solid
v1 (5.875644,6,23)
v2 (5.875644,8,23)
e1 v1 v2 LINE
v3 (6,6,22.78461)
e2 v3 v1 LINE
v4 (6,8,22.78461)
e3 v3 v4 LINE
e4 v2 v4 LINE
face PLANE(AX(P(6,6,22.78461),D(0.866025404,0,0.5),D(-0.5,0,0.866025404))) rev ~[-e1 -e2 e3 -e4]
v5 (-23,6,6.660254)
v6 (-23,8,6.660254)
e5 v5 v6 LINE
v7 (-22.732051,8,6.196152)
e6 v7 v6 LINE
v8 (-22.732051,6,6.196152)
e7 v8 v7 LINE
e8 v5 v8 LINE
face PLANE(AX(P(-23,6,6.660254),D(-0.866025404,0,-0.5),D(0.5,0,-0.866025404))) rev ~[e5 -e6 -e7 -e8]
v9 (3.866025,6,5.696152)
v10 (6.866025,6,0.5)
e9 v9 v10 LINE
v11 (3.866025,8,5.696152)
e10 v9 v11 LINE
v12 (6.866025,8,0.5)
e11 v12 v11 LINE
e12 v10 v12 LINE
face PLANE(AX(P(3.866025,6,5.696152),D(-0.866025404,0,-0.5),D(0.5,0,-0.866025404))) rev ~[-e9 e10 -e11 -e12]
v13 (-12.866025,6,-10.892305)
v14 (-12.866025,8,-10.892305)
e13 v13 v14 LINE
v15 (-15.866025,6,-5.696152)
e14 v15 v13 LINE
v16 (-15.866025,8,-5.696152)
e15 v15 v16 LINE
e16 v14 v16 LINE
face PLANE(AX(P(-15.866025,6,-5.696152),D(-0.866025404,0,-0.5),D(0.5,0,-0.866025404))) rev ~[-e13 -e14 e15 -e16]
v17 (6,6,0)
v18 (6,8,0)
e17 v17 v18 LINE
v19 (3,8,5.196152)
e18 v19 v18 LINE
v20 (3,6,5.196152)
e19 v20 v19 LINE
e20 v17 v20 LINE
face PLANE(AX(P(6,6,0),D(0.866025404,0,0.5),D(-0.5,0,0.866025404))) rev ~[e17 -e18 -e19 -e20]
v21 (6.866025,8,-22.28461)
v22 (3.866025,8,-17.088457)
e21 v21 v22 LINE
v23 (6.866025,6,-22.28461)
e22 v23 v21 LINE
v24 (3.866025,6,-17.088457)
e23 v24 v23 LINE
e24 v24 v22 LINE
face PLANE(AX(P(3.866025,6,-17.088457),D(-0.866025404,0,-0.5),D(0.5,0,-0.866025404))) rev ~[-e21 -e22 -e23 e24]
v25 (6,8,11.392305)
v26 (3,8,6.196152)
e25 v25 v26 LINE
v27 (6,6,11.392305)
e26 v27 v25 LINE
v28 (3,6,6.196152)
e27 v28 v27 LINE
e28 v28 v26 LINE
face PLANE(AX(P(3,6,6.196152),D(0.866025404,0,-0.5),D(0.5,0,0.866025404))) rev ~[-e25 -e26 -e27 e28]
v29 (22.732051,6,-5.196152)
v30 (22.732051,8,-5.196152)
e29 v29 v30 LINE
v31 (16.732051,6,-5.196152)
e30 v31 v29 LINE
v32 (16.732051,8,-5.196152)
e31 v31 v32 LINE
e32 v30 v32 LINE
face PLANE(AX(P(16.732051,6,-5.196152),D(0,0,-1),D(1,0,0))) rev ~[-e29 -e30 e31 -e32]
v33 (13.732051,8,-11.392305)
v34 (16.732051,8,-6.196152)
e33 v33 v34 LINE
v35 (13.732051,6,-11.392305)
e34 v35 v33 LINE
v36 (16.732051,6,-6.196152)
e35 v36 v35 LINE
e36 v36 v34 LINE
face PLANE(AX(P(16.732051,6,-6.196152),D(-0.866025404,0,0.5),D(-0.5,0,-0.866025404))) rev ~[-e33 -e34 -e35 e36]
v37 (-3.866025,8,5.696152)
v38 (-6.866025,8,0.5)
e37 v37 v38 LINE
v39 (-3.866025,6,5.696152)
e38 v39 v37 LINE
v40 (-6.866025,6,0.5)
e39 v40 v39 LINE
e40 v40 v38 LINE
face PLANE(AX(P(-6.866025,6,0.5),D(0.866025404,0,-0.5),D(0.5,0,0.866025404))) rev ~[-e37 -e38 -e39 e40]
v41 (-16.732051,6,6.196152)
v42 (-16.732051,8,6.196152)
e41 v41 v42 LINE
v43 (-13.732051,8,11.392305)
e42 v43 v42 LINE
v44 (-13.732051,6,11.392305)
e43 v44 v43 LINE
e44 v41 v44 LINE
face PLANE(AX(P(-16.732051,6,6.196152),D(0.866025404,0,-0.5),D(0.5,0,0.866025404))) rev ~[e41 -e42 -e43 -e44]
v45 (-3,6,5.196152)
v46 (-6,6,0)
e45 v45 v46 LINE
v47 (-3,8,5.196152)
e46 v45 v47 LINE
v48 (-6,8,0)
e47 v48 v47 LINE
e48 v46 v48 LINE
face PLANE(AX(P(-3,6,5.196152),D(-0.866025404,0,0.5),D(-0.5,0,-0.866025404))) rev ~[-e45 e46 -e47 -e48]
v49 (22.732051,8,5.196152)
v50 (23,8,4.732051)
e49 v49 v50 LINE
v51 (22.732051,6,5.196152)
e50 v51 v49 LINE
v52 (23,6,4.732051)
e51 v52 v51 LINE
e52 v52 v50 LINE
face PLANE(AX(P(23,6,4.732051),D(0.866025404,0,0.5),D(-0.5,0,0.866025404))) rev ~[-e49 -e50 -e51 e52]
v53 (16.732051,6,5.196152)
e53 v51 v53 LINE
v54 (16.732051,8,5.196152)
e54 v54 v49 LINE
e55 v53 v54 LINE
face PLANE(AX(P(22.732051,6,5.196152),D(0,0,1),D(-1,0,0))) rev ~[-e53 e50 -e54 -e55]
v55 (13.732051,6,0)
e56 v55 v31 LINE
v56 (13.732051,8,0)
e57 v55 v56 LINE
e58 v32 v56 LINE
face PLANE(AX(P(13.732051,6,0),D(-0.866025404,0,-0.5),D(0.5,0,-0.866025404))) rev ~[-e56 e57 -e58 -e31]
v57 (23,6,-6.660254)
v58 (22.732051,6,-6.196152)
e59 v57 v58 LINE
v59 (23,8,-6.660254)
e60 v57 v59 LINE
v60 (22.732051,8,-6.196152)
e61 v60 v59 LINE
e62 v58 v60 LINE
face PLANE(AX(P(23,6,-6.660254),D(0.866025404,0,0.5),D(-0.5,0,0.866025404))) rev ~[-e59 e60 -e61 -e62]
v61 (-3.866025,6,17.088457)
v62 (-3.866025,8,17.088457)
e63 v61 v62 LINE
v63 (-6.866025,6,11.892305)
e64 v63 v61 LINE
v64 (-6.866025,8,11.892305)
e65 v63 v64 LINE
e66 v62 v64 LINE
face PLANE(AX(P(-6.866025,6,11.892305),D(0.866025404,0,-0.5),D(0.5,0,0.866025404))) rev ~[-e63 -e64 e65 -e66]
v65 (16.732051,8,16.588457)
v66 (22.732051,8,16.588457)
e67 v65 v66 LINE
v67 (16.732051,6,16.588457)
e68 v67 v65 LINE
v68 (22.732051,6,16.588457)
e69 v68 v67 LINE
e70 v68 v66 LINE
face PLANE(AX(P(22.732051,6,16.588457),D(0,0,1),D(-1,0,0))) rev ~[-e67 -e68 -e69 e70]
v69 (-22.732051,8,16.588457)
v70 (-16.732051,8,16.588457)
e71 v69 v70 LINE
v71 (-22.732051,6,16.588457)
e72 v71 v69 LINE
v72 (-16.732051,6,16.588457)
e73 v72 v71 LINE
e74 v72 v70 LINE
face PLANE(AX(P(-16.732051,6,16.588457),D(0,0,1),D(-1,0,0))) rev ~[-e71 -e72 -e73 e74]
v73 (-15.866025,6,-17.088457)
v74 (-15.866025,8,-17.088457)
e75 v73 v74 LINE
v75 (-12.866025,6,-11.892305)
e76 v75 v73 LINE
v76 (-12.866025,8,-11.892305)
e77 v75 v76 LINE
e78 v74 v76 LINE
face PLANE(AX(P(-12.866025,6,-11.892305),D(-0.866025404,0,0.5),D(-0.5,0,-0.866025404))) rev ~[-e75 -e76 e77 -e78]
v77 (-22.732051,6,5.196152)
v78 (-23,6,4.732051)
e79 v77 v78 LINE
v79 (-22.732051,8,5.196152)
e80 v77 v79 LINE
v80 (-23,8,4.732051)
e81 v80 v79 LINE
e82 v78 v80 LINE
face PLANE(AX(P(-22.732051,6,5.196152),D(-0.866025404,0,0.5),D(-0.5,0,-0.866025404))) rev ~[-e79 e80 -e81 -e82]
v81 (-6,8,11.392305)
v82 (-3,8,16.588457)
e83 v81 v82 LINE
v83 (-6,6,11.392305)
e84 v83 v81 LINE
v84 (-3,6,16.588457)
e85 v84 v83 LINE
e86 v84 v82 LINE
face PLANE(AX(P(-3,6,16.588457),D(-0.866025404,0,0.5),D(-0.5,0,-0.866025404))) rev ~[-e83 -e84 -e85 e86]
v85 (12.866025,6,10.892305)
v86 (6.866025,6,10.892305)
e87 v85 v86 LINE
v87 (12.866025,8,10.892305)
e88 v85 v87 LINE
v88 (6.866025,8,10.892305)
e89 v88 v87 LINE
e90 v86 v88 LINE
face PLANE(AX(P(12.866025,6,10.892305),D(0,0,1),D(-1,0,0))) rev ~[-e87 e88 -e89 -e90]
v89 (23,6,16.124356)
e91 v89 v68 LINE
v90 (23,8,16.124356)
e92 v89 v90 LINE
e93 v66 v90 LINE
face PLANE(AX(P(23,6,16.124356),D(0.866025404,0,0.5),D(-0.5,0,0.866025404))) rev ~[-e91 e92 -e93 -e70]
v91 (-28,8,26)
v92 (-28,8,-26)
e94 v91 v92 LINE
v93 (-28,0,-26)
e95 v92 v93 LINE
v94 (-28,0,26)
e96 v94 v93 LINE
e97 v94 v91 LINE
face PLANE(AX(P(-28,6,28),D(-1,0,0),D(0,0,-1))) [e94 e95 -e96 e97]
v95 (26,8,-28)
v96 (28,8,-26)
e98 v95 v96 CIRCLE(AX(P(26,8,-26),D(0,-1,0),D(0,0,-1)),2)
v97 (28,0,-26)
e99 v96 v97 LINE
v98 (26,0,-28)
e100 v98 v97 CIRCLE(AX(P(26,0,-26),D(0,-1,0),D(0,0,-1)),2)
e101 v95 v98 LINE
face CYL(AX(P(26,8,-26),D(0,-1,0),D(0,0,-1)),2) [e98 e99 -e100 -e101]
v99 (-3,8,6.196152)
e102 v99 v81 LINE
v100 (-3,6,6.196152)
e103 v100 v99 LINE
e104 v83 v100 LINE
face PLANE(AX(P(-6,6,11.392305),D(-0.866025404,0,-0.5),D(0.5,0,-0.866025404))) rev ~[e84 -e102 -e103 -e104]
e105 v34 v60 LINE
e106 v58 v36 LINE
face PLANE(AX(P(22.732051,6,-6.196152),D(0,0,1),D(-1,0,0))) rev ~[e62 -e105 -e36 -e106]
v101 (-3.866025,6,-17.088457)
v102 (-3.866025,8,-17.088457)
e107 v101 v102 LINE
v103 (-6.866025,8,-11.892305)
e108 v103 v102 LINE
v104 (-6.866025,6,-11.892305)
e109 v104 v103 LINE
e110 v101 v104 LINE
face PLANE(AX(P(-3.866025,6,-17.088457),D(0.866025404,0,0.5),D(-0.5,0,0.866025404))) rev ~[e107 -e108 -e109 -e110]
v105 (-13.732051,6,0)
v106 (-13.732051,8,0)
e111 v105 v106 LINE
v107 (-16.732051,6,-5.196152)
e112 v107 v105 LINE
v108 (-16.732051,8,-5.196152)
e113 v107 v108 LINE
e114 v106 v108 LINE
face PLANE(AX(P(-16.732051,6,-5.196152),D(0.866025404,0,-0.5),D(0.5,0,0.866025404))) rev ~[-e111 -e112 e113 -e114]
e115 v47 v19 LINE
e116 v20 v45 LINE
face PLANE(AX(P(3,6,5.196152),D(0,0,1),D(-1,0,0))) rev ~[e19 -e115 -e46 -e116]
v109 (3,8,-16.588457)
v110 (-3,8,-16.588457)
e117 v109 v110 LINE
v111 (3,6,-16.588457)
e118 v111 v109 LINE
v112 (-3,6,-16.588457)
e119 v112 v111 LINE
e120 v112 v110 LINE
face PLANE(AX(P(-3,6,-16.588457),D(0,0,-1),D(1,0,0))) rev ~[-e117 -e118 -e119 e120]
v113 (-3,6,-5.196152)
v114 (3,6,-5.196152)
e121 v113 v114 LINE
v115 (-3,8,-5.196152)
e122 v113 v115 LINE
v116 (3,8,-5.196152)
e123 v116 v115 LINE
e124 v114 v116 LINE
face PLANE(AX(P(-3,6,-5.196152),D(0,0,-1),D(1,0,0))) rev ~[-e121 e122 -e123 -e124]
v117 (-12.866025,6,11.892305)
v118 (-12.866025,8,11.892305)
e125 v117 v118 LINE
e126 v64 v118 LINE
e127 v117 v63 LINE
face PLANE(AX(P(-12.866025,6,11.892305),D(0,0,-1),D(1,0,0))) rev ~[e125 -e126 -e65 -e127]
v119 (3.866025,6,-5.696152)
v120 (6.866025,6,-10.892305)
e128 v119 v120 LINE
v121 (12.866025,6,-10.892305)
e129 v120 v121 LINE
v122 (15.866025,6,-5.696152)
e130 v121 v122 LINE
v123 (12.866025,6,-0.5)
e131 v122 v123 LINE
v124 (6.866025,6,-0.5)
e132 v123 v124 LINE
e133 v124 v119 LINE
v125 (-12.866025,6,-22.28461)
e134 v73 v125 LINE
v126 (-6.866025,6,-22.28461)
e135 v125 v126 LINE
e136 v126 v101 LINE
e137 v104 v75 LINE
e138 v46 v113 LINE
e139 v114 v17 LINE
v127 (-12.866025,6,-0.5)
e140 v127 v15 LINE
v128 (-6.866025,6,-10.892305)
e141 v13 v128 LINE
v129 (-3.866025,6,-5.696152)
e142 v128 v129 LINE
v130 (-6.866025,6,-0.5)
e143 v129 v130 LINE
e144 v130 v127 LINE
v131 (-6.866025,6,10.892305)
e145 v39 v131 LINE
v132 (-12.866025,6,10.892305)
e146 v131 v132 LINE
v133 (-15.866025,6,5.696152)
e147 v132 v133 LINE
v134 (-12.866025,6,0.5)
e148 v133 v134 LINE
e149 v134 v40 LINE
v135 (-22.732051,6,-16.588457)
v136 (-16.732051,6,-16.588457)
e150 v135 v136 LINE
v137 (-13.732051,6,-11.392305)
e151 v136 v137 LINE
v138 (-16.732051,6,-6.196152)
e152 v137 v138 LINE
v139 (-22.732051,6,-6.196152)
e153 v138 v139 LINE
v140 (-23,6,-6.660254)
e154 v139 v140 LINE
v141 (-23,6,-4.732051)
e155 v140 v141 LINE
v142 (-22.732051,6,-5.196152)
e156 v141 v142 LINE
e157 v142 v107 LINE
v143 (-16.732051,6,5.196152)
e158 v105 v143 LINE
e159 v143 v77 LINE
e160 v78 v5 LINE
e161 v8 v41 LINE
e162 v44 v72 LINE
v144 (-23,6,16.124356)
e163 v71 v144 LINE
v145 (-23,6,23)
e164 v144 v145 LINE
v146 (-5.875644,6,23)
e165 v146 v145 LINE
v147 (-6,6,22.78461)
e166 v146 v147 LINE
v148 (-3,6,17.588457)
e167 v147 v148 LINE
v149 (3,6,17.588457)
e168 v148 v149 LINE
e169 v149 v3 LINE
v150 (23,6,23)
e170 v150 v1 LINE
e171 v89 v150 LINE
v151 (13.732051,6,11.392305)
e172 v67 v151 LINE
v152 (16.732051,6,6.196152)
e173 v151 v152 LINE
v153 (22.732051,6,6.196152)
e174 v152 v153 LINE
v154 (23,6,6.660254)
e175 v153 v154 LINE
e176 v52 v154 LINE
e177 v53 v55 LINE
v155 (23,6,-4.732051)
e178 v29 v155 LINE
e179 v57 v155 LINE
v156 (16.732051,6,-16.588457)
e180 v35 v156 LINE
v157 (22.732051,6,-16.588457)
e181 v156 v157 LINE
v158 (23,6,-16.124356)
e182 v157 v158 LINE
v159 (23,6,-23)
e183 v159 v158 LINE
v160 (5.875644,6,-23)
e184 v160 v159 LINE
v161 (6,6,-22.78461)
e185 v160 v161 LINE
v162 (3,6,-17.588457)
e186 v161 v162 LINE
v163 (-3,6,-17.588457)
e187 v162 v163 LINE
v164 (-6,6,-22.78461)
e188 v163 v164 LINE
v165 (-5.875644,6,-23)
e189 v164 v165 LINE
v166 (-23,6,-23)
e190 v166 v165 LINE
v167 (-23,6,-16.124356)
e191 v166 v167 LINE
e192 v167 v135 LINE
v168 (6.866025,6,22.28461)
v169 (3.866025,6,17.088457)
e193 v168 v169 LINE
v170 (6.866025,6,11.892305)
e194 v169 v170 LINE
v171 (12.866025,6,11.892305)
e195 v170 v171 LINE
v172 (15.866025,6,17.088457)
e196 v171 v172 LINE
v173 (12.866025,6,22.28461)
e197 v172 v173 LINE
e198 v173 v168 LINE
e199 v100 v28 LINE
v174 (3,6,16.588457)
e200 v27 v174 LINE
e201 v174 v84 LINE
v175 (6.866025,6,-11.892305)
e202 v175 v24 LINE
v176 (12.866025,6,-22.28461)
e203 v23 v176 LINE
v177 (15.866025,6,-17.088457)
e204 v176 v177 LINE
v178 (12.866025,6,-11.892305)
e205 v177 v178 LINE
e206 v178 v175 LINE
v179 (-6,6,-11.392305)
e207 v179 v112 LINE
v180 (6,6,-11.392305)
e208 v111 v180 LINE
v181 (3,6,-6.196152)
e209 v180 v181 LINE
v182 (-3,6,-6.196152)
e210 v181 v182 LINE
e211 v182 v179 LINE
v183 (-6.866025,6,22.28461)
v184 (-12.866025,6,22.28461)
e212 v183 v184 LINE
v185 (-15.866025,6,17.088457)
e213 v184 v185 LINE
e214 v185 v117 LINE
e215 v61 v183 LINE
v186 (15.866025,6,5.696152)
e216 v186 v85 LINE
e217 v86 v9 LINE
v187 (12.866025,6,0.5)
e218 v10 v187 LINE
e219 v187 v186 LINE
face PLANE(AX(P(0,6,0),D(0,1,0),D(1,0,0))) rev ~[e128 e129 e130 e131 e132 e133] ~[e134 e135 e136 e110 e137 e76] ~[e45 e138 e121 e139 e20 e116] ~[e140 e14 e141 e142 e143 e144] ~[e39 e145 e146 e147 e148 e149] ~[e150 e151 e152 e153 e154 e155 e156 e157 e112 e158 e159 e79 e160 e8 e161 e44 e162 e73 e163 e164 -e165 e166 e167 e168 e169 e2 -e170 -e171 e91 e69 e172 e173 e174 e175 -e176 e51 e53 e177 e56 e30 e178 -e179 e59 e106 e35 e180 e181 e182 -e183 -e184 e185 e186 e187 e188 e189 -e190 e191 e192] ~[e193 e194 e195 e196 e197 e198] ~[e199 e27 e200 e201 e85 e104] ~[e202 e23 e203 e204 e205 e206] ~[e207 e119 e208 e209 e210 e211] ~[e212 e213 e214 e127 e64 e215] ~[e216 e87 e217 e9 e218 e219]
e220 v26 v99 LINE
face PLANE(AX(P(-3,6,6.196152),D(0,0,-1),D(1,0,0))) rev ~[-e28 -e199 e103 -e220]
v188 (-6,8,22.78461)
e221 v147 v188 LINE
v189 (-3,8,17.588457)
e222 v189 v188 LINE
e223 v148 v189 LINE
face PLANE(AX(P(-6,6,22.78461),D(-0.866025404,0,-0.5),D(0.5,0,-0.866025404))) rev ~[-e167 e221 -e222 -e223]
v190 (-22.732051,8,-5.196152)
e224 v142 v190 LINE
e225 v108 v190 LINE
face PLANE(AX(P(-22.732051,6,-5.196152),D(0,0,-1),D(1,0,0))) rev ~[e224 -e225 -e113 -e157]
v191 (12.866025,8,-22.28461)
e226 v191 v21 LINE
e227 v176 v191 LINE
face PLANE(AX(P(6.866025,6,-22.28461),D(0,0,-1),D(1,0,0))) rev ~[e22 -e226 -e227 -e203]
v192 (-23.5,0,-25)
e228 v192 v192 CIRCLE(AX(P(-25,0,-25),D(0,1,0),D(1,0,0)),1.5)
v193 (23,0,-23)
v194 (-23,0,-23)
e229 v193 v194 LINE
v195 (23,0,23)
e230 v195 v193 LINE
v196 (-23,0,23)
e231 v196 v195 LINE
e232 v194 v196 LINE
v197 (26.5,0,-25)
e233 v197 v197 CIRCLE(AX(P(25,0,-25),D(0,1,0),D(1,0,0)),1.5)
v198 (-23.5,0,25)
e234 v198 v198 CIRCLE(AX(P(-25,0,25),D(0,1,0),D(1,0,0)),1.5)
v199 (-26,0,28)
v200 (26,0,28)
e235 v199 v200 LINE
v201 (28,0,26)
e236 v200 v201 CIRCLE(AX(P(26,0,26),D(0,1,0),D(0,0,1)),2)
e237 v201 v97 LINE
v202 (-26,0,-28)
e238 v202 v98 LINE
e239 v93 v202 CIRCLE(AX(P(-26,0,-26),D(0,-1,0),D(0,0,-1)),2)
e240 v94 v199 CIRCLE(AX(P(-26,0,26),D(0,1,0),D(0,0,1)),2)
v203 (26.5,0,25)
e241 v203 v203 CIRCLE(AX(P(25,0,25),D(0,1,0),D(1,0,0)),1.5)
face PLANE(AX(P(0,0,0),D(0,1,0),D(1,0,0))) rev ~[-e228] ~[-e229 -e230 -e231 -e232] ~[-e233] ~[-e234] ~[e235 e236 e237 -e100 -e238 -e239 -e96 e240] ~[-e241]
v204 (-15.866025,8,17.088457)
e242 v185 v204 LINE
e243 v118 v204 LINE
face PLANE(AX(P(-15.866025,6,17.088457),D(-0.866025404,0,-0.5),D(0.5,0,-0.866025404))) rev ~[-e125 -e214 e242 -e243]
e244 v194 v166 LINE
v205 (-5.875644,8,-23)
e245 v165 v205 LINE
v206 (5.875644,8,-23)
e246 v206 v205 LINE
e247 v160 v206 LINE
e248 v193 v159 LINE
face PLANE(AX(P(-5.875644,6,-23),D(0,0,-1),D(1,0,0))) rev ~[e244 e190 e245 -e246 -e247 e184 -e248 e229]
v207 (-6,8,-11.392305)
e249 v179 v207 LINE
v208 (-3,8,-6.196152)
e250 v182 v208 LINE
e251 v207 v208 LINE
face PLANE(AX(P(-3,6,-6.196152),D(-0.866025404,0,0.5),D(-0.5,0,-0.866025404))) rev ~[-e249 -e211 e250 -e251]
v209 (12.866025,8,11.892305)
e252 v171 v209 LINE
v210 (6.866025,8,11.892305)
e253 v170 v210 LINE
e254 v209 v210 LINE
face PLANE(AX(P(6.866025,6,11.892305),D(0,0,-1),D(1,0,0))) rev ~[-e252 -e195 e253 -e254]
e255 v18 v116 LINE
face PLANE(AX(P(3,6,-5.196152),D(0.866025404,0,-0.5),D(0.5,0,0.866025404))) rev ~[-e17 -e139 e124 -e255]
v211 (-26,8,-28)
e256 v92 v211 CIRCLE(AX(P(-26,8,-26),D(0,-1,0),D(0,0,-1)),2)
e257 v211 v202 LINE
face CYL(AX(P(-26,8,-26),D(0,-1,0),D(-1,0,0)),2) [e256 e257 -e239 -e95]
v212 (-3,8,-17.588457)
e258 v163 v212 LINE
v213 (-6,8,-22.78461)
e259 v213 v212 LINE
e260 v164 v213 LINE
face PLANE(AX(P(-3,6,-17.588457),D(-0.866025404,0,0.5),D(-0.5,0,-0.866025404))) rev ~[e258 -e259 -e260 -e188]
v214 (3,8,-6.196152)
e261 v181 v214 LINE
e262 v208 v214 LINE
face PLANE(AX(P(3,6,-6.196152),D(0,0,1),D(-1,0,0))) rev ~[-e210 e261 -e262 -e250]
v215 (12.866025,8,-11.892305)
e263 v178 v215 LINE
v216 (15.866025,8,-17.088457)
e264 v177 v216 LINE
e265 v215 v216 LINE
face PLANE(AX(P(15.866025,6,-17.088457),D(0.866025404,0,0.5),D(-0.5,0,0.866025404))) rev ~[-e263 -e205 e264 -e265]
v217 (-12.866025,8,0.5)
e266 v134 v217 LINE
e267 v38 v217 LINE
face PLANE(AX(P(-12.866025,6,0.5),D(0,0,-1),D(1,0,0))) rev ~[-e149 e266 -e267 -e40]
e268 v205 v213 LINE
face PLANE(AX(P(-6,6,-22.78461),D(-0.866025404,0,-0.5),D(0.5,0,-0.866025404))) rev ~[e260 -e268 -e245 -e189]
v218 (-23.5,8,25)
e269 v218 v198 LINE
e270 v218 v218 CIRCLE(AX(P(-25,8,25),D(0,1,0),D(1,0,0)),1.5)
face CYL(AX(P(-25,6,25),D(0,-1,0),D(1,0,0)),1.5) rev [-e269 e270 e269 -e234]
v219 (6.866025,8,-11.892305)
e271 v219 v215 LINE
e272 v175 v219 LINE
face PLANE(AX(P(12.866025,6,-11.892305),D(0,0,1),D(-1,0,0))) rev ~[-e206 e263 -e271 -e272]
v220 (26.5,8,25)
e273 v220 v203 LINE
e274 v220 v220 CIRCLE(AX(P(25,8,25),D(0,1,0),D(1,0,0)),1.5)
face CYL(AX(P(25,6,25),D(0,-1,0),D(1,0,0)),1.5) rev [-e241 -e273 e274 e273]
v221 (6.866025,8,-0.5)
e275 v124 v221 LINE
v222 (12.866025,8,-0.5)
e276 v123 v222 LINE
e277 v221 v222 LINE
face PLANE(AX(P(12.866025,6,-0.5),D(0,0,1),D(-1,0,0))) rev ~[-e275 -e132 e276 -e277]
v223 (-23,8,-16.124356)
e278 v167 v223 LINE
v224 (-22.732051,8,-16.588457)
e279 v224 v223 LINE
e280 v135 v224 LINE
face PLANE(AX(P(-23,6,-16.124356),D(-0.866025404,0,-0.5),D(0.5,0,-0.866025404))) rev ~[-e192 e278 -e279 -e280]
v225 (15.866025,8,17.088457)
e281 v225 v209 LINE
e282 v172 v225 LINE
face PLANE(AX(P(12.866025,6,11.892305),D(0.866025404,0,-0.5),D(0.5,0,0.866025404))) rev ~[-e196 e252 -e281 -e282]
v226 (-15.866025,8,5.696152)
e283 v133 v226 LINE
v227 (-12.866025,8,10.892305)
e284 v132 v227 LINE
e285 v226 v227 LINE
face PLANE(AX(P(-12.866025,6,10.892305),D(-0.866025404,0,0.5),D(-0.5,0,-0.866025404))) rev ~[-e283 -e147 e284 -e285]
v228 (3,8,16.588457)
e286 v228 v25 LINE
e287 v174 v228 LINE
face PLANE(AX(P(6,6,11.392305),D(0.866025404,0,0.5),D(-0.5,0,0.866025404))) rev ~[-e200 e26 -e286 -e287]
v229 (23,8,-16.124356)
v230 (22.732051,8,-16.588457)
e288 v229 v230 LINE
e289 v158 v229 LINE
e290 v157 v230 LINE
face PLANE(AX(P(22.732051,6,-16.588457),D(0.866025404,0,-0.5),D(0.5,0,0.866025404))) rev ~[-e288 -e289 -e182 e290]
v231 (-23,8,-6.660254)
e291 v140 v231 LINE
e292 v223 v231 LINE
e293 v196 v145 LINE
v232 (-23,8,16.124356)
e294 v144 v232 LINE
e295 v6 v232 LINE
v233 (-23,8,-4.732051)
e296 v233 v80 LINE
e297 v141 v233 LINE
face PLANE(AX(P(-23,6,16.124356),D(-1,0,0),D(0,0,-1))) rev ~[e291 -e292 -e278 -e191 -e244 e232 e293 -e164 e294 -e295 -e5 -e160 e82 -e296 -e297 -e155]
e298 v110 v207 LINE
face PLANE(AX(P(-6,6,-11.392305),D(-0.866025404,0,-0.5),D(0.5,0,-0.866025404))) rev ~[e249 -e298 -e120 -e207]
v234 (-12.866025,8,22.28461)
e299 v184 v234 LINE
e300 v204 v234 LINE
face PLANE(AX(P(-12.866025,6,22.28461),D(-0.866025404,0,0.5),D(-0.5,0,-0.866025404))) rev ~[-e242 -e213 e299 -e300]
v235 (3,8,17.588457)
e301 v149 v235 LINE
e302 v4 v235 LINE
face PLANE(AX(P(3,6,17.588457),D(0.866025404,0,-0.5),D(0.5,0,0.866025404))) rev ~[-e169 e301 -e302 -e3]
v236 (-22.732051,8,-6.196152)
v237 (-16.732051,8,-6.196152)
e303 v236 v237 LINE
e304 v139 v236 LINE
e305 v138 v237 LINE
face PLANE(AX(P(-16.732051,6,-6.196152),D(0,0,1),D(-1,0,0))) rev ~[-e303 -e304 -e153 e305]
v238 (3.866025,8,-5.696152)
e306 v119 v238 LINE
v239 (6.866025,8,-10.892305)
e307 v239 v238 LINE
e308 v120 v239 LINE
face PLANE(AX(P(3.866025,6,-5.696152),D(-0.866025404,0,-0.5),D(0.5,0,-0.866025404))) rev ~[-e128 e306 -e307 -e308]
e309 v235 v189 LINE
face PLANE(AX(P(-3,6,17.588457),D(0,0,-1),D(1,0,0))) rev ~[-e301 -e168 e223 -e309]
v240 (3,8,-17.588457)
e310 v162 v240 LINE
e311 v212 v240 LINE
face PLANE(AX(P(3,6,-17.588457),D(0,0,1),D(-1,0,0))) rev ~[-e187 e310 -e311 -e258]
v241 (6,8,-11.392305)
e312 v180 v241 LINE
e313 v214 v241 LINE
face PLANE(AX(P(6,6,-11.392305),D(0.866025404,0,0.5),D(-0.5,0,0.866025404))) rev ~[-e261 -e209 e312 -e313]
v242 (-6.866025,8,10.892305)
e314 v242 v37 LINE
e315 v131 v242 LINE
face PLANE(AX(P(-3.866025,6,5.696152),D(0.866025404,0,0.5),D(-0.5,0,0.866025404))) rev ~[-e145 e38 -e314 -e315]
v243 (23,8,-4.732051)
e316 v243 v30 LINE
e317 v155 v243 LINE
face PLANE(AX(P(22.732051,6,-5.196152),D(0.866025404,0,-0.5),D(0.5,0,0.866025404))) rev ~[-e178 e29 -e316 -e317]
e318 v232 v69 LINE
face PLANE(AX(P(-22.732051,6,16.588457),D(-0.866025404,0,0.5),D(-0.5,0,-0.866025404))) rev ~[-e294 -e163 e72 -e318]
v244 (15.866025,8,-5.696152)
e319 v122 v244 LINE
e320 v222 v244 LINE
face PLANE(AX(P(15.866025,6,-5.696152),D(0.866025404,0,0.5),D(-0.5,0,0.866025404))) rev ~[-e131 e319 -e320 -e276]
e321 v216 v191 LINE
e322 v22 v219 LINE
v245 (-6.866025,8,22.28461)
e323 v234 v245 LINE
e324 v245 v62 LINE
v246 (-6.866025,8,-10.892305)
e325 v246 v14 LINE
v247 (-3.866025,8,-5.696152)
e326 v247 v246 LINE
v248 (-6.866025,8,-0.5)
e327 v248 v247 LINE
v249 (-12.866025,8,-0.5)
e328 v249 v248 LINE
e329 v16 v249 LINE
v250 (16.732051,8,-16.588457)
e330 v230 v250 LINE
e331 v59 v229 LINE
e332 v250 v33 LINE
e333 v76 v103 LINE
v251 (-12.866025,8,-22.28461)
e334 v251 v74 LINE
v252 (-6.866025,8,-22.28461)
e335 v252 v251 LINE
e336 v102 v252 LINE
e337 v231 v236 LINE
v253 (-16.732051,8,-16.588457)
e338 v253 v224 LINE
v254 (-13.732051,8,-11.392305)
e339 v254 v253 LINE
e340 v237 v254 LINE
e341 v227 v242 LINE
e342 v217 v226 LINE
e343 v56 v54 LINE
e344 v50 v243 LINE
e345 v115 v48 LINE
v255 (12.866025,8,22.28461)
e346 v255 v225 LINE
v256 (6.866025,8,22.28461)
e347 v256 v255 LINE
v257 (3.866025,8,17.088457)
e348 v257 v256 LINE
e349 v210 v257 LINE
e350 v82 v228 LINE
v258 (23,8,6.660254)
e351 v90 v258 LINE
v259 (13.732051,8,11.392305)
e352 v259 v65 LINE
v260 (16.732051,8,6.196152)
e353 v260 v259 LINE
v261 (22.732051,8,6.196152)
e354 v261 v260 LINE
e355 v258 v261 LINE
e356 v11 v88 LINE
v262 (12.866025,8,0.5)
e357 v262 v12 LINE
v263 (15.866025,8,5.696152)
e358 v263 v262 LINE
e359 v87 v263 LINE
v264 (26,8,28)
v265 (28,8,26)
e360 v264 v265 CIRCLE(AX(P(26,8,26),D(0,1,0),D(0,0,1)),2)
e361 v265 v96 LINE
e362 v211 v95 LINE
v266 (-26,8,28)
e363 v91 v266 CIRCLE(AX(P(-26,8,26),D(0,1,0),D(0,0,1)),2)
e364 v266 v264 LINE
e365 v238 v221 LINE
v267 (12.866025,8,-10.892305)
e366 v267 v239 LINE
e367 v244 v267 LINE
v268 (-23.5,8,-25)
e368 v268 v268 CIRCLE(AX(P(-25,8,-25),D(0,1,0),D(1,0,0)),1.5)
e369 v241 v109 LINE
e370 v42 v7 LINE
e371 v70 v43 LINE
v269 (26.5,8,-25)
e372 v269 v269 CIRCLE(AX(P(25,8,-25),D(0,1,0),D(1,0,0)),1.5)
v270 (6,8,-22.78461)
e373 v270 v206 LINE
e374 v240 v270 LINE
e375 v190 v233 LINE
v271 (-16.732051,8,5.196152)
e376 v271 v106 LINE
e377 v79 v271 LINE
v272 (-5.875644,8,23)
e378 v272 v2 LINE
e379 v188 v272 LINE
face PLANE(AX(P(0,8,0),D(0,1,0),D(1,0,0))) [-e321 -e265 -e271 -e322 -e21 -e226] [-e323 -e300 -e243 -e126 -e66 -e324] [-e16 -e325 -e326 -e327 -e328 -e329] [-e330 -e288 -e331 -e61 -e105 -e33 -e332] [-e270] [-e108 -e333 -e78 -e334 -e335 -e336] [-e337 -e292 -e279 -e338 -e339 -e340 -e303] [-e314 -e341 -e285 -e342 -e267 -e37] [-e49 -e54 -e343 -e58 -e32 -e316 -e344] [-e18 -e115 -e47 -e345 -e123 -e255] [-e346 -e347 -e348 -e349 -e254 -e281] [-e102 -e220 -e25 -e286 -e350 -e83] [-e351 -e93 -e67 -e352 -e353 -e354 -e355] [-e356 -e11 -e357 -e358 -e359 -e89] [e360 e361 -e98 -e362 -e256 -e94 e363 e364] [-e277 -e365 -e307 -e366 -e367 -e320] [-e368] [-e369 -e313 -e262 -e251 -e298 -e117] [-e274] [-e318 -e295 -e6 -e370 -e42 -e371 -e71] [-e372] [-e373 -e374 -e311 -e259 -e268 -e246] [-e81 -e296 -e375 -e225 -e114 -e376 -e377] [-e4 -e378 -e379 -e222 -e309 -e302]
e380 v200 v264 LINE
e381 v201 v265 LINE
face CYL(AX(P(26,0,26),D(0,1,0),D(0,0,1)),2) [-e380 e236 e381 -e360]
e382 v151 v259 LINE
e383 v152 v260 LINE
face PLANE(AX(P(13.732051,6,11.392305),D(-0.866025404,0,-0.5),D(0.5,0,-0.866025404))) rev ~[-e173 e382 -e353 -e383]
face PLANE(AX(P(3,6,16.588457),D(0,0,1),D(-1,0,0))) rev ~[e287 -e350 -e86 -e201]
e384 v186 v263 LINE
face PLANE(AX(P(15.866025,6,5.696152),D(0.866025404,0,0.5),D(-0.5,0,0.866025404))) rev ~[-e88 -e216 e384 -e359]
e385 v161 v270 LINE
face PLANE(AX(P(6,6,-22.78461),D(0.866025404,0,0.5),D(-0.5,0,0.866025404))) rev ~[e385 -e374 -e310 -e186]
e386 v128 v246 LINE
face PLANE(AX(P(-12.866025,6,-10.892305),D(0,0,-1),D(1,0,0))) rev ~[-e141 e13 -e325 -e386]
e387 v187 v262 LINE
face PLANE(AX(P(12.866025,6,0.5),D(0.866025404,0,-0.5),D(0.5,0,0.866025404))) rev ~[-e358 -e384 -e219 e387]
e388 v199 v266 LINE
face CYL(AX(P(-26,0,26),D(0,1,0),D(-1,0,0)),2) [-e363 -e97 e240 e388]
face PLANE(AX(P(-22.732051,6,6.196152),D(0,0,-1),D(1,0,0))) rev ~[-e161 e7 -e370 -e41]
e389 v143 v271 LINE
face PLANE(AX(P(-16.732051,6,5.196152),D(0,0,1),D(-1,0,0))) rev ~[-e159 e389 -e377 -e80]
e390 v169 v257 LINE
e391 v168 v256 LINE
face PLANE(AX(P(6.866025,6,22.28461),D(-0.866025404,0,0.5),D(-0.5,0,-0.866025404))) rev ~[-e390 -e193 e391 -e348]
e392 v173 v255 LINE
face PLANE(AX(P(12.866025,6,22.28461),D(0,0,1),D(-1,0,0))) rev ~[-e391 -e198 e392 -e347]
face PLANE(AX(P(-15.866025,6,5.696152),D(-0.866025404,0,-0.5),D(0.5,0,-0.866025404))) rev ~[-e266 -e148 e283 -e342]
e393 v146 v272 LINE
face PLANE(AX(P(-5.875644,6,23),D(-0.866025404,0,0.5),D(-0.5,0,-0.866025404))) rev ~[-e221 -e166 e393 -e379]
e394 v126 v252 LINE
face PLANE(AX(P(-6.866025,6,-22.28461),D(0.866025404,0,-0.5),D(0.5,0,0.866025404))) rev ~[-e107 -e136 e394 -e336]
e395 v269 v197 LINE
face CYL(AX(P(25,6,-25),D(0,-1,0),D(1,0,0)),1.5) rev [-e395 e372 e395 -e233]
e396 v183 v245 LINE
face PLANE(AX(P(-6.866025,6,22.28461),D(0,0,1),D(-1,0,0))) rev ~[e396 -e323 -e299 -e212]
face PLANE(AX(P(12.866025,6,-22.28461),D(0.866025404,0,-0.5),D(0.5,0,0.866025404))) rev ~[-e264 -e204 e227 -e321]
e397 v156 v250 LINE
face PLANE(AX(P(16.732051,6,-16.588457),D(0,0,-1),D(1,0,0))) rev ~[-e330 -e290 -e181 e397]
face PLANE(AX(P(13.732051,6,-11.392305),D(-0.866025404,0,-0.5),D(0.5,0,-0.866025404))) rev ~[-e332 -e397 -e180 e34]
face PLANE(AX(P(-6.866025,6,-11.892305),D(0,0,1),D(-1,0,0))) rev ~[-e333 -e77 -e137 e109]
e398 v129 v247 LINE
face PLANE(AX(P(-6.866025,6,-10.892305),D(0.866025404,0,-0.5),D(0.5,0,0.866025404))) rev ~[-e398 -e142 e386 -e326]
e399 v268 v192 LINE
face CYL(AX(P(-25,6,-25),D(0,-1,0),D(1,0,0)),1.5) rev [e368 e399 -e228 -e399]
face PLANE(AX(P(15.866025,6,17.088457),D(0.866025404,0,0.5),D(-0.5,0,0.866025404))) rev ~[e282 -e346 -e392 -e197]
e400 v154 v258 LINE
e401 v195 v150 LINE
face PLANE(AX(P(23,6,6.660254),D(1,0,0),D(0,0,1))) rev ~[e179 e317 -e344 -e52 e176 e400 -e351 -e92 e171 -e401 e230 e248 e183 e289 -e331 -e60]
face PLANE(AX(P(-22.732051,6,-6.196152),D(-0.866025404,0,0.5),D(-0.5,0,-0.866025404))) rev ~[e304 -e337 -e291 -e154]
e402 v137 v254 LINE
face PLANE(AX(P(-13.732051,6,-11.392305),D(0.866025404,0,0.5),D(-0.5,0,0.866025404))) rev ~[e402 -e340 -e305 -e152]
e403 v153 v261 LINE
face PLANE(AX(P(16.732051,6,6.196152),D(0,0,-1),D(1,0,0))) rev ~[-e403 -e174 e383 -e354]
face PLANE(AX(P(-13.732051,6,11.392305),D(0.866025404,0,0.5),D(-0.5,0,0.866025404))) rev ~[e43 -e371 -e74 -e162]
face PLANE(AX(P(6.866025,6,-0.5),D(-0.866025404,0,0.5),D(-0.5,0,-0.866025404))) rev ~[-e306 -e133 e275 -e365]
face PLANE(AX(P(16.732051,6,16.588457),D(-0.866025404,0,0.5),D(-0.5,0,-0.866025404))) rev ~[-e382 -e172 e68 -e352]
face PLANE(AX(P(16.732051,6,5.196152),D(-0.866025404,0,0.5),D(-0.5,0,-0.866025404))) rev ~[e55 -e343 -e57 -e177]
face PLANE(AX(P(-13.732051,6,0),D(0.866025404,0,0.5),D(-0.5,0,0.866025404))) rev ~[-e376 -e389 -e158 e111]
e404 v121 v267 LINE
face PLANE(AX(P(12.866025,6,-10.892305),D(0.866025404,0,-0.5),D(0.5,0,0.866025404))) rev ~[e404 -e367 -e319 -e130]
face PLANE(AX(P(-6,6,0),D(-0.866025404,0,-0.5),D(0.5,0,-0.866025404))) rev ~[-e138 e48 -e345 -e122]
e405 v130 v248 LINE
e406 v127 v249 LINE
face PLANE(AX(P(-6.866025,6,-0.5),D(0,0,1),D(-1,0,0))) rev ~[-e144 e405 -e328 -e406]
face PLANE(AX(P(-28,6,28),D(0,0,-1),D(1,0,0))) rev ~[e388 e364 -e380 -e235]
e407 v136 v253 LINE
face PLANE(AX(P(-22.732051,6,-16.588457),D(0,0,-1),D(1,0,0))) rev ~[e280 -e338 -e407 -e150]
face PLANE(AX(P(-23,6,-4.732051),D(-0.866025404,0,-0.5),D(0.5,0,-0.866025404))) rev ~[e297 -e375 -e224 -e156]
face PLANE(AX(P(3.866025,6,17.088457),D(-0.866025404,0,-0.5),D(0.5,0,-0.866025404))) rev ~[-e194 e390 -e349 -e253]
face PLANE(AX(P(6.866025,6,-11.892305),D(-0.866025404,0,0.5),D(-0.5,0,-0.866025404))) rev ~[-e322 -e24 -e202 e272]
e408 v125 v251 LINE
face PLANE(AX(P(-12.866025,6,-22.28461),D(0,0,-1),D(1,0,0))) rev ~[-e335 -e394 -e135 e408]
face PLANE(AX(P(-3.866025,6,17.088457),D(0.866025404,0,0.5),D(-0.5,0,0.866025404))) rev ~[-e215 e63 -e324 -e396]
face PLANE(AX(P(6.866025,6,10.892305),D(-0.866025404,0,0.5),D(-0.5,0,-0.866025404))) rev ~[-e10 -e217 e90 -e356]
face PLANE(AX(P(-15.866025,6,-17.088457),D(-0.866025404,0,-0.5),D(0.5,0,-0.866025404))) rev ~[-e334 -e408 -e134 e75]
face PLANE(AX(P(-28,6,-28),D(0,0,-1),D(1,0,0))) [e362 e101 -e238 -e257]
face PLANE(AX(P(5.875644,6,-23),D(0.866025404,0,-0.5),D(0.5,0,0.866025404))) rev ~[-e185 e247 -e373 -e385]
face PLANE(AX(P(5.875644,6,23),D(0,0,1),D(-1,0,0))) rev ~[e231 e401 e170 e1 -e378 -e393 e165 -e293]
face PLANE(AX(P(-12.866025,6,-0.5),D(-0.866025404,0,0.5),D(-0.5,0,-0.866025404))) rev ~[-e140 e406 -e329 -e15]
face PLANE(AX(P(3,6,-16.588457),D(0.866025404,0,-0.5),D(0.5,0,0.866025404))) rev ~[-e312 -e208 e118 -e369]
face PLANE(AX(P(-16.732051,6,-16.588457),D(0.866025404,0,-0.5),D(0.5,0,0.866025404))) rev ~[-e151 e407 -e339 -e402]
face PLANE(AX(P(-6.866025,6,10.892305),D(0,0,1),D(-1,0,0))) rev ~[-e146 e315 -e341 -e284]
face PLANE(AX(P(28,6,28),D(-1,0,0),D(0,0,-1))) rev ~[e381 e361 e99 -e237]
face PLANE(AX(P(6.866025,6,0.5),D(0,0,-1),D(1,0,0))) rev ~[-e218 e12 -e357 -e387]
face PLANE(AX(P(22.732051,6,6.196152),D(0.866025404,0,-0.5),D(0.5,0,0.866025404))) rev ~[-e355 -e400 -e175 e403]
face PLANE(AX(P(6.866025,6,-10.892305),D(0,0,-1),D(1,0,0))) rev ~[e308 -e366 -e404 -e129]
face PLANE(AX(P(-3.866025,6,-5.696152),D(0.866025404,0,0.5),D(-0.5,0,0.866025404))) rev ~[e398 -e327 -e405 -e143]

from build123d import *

# Parameters (mm, degrees)
SKETCH1_W               = 56
SKETCH1_H               = 56
SKETCH1_R               = 1.5
SKETCH1_W_2             = 46
SKETCH1_H_2             = 46
BOSS_EXTRUDE1_DEPTH     = 6
BOSS_EXTRUDE2_START     = 6
SKETCH1_2_W             = 56
SKETCH1_2_H             = 56
SKETCH1_2_R             = 1.5
BOSS_EXTRUDE2_DEPTH     = 2
CUT_EXTRUDE1_DEPTH      = 7
CUT_EXTRUDE1_DEPTH_BACK = 3
FILLET1_R               = 2


with BuildPart() as part:
    # Sketch1 → Boss-Extrude1 (new body)
    with BuildSketch(Plane(origin=(0, 0, 0), x_dir=(1, 0, 0), z_dir=(0, 1, 0))):
        Rectangle(SKETCH1_W, SKETCH1_H)
        with Locations((-25, 25)):
            Circle(SKETCH1_R, mode=Mode.SUBTRACT)
        with Locations((25, 25)):
            Circle(SKETCH1_R, mode=Mode.SUBTRACT)
        with Locations((25, -25)):
            Circle(SKETCH1_R, mode=Mode.SUBTRACT)
        with Locations((-25, -25)):
            Circle(SKETCH1_R, mode=Mode.SUBTRACT)
        Rectangle(SKETCH1_W_2, SKETCH1_H_2, mode=Mode.SUBTRACT)
    extrude(amount=BOSS_EXTRUDE1_DEPTH)

    # Sketch1<2> → Boss-Extrude2 (add)
    with BuildSketch(Plane(origin=(0, 0, 0), x_dir=(1, 0, 0), z_dir=(0, 1, 0)).offset(BOSS_EXTRUDE2_START)):
        Rectangle(SKETCH1_2_W, SKETCH1_2_H)
        with Locations((-25, 25)):
            Circle(SKETCH1_2_R, mode=Mode.SUBTRACT)
        with Locations((25, 25)):
            Circle(SKETCH1_2_R, mode=Mode.SUBTRACT)
        with Locations((25, -25)):
            Circle(SKETCH1_2_R, mode=Mode.SUBTRACT)
        with Locations((-25, -25)):
            Circle(SKETCH1_2_R, mode=Mode.SUBTRACT)
    extrude(amount=BOSS_EXTRUDE2_DEPTH)

    # Sketch2 → Cut-Extrude1 (cut, two sides)
    with BuildSketch(Plane.XZ.offset(-6)) as cut_extrude1_sk:
        Polygon((-22.732050808, 5.196152423), (-23, 4.732050808), (-23, -4.732050808), (-22.732050808, -5.196152423), (-16.732050808, -5.196152423), (-13.732050808, 0), (-16.732050808, 5.196152423), align=None)
        Polygon((-22.732050808, 16.588457268), (-23, 16.124355653), (-23, 6.660254038), (-22.732050808, 6.196152423), (-16.732050808, 6.196152423), (-13.732050808, 11.392304845), (-16.732050808, 16.588457268), align=None)
        Polygon((-3.866025404, 5.696152423), (-6.866025404, 10.892304845), (-12.866025404, 10.892304845), (-15.866025404, 5.696152423), (-12.866025404, 0.5), (-6.866025404, 0.5), align=None)
        Polygon((-12.866025404, 11.892304845), (-6.866025404, 11.892304845), (-3.866025404, 17.088457268), (-6.866025404, 22.284609691), (-12.866025404, 22.284609691), (-15.866025404, 17.088457268), align=None)
        Polygon((-6, 11.392304845), (-3, 6.196152423), (3, 6.196152423), (6, 11.392304845), (3, 16.588457268), (-3, 16.588457268), align=None)
        Polygon((6, 22.784609691), (5.875644347, 23), (-5.875644347, 23), (-6, 22.784609691), (-3, 17.588457268), (3, 17.588457268), align=None)
        Polygon((3.866025404, 17.088457268), (6.866025404, 11.892304845), (12.866025404, 11.892304845), (15.866025404, 17.088457268), (12.866025404, 22.284609691), (6.866025404, 22.284609691), align=None)
        Polygon((16.732050808, 6.196152423), (22.732050808, 6.196152423), (23, 6.660254038), (23, 16.124355653), (22.732050808, 16.588457268), (16.732050808, 16.588457268), (13.732050808, 11.392304845), align=None)
        Polygon((6.866025404, 0.5), (12.866025404, 0.5), (15.866025404, 5.696152423), (12.866025404, 10.892304845), (6.866025404, 10.892304845), (3.866025404, 5.696152423), align=None)
        Polygon((23, -4.732050808), (23, 4.732050808), (22.732050808, 5.196152423), (16.732050808, 5.196152423), (13.732050808, 0), (16.732050808, -5.196152423), (22.732050808, -5.196152423), align=None)
        Polygon((3.866025404, -5.696152423), (6.866025404, -10.892304845), (12.866025404, -10.892304845), (15.866025404, -5.696152423), (12.866025404, -0.5), (6.866025404, -0.5), align=None)
        Polygon((23, -16.124355653), (23, -6.660254038), (22.732050808, -6.196152423), (16.732050808, -6.196152423), (13.732050808, -11.392304845), (16.732050808, -16.588457268), (22.732050808, -16.588457268), align=None)
        Polygon((-6, 0), (-3, -5.196152423), (3, -5.196152423), (6, 0), (3, 5.196152423), (-3, 5.196152423), align=None)
        Polygon((-3, -6.196152423), (-6, -11.392304845), (-3, -16.588457268), (3, -16.588457268), (6, -11.392304845), (3, -6.196152423), align=None)
        Polygon((12.866025404, -11.892304845), (6.866025404, -11.892304845), (3.866025404, -17.088457268), (6.866025404, -22.284609691), (12.866025404, -22.284609691), (15.866025404, -17.088457268), align=None)
        Polygon((-5.875644347, -23), (5.875644347, -23), (6, -22.784609691), (3, -17.588457268), (-3, -17.588457268), (-6, -22.784609691), align=None)
        Polygon((-6.866025404, -0.5), (-12.866025404, -0.5), (-15.866025404, -5.696152423), (-12.866025404, -10.892304845), (-6.866025404, -10.892304845), (-3.866025404, -5.696152423), align=None)
        Polygon((-3.866025404, -17.088457268), (-6.866025404, -11.892304845), (-12.866025404, -11.892304845), (-15.866025404, -17.088457268), (-12.866025404, -22.284609691), (-6.866025404, -22.284609691), align=None)
        Polygon((-23, -6.660254038), (-23, -16.124355653), (-22.732050808, -16.588457268), (-16.732050808, -16.588457268), (-13.732050808, -11.392304845), (-16.732050808, -6.196152423), (-22.732050808, -6.196152423), align=None)
    extrude(amount=CUT_EXTRUDE1_DEPTH, mode=Mode.SUBTRACT)
    extrude(cut_extrude1_sk.sketch, amount=-CUT_EXTRUDE1_DEPTH_BACK, mode=Mode.SUBTRACT)

    # Fillet1
    fillet1_edges = [part.edges().sort_by_distance(p)[0] for p in [
        (28, 4, -28),
        (28, 4, 28),
        (-28, 4, 28),
        (-28, 4, -28),
    ]]
    fillet(fillet1_edges, radius=FILLET1_R)


solid = part.part
